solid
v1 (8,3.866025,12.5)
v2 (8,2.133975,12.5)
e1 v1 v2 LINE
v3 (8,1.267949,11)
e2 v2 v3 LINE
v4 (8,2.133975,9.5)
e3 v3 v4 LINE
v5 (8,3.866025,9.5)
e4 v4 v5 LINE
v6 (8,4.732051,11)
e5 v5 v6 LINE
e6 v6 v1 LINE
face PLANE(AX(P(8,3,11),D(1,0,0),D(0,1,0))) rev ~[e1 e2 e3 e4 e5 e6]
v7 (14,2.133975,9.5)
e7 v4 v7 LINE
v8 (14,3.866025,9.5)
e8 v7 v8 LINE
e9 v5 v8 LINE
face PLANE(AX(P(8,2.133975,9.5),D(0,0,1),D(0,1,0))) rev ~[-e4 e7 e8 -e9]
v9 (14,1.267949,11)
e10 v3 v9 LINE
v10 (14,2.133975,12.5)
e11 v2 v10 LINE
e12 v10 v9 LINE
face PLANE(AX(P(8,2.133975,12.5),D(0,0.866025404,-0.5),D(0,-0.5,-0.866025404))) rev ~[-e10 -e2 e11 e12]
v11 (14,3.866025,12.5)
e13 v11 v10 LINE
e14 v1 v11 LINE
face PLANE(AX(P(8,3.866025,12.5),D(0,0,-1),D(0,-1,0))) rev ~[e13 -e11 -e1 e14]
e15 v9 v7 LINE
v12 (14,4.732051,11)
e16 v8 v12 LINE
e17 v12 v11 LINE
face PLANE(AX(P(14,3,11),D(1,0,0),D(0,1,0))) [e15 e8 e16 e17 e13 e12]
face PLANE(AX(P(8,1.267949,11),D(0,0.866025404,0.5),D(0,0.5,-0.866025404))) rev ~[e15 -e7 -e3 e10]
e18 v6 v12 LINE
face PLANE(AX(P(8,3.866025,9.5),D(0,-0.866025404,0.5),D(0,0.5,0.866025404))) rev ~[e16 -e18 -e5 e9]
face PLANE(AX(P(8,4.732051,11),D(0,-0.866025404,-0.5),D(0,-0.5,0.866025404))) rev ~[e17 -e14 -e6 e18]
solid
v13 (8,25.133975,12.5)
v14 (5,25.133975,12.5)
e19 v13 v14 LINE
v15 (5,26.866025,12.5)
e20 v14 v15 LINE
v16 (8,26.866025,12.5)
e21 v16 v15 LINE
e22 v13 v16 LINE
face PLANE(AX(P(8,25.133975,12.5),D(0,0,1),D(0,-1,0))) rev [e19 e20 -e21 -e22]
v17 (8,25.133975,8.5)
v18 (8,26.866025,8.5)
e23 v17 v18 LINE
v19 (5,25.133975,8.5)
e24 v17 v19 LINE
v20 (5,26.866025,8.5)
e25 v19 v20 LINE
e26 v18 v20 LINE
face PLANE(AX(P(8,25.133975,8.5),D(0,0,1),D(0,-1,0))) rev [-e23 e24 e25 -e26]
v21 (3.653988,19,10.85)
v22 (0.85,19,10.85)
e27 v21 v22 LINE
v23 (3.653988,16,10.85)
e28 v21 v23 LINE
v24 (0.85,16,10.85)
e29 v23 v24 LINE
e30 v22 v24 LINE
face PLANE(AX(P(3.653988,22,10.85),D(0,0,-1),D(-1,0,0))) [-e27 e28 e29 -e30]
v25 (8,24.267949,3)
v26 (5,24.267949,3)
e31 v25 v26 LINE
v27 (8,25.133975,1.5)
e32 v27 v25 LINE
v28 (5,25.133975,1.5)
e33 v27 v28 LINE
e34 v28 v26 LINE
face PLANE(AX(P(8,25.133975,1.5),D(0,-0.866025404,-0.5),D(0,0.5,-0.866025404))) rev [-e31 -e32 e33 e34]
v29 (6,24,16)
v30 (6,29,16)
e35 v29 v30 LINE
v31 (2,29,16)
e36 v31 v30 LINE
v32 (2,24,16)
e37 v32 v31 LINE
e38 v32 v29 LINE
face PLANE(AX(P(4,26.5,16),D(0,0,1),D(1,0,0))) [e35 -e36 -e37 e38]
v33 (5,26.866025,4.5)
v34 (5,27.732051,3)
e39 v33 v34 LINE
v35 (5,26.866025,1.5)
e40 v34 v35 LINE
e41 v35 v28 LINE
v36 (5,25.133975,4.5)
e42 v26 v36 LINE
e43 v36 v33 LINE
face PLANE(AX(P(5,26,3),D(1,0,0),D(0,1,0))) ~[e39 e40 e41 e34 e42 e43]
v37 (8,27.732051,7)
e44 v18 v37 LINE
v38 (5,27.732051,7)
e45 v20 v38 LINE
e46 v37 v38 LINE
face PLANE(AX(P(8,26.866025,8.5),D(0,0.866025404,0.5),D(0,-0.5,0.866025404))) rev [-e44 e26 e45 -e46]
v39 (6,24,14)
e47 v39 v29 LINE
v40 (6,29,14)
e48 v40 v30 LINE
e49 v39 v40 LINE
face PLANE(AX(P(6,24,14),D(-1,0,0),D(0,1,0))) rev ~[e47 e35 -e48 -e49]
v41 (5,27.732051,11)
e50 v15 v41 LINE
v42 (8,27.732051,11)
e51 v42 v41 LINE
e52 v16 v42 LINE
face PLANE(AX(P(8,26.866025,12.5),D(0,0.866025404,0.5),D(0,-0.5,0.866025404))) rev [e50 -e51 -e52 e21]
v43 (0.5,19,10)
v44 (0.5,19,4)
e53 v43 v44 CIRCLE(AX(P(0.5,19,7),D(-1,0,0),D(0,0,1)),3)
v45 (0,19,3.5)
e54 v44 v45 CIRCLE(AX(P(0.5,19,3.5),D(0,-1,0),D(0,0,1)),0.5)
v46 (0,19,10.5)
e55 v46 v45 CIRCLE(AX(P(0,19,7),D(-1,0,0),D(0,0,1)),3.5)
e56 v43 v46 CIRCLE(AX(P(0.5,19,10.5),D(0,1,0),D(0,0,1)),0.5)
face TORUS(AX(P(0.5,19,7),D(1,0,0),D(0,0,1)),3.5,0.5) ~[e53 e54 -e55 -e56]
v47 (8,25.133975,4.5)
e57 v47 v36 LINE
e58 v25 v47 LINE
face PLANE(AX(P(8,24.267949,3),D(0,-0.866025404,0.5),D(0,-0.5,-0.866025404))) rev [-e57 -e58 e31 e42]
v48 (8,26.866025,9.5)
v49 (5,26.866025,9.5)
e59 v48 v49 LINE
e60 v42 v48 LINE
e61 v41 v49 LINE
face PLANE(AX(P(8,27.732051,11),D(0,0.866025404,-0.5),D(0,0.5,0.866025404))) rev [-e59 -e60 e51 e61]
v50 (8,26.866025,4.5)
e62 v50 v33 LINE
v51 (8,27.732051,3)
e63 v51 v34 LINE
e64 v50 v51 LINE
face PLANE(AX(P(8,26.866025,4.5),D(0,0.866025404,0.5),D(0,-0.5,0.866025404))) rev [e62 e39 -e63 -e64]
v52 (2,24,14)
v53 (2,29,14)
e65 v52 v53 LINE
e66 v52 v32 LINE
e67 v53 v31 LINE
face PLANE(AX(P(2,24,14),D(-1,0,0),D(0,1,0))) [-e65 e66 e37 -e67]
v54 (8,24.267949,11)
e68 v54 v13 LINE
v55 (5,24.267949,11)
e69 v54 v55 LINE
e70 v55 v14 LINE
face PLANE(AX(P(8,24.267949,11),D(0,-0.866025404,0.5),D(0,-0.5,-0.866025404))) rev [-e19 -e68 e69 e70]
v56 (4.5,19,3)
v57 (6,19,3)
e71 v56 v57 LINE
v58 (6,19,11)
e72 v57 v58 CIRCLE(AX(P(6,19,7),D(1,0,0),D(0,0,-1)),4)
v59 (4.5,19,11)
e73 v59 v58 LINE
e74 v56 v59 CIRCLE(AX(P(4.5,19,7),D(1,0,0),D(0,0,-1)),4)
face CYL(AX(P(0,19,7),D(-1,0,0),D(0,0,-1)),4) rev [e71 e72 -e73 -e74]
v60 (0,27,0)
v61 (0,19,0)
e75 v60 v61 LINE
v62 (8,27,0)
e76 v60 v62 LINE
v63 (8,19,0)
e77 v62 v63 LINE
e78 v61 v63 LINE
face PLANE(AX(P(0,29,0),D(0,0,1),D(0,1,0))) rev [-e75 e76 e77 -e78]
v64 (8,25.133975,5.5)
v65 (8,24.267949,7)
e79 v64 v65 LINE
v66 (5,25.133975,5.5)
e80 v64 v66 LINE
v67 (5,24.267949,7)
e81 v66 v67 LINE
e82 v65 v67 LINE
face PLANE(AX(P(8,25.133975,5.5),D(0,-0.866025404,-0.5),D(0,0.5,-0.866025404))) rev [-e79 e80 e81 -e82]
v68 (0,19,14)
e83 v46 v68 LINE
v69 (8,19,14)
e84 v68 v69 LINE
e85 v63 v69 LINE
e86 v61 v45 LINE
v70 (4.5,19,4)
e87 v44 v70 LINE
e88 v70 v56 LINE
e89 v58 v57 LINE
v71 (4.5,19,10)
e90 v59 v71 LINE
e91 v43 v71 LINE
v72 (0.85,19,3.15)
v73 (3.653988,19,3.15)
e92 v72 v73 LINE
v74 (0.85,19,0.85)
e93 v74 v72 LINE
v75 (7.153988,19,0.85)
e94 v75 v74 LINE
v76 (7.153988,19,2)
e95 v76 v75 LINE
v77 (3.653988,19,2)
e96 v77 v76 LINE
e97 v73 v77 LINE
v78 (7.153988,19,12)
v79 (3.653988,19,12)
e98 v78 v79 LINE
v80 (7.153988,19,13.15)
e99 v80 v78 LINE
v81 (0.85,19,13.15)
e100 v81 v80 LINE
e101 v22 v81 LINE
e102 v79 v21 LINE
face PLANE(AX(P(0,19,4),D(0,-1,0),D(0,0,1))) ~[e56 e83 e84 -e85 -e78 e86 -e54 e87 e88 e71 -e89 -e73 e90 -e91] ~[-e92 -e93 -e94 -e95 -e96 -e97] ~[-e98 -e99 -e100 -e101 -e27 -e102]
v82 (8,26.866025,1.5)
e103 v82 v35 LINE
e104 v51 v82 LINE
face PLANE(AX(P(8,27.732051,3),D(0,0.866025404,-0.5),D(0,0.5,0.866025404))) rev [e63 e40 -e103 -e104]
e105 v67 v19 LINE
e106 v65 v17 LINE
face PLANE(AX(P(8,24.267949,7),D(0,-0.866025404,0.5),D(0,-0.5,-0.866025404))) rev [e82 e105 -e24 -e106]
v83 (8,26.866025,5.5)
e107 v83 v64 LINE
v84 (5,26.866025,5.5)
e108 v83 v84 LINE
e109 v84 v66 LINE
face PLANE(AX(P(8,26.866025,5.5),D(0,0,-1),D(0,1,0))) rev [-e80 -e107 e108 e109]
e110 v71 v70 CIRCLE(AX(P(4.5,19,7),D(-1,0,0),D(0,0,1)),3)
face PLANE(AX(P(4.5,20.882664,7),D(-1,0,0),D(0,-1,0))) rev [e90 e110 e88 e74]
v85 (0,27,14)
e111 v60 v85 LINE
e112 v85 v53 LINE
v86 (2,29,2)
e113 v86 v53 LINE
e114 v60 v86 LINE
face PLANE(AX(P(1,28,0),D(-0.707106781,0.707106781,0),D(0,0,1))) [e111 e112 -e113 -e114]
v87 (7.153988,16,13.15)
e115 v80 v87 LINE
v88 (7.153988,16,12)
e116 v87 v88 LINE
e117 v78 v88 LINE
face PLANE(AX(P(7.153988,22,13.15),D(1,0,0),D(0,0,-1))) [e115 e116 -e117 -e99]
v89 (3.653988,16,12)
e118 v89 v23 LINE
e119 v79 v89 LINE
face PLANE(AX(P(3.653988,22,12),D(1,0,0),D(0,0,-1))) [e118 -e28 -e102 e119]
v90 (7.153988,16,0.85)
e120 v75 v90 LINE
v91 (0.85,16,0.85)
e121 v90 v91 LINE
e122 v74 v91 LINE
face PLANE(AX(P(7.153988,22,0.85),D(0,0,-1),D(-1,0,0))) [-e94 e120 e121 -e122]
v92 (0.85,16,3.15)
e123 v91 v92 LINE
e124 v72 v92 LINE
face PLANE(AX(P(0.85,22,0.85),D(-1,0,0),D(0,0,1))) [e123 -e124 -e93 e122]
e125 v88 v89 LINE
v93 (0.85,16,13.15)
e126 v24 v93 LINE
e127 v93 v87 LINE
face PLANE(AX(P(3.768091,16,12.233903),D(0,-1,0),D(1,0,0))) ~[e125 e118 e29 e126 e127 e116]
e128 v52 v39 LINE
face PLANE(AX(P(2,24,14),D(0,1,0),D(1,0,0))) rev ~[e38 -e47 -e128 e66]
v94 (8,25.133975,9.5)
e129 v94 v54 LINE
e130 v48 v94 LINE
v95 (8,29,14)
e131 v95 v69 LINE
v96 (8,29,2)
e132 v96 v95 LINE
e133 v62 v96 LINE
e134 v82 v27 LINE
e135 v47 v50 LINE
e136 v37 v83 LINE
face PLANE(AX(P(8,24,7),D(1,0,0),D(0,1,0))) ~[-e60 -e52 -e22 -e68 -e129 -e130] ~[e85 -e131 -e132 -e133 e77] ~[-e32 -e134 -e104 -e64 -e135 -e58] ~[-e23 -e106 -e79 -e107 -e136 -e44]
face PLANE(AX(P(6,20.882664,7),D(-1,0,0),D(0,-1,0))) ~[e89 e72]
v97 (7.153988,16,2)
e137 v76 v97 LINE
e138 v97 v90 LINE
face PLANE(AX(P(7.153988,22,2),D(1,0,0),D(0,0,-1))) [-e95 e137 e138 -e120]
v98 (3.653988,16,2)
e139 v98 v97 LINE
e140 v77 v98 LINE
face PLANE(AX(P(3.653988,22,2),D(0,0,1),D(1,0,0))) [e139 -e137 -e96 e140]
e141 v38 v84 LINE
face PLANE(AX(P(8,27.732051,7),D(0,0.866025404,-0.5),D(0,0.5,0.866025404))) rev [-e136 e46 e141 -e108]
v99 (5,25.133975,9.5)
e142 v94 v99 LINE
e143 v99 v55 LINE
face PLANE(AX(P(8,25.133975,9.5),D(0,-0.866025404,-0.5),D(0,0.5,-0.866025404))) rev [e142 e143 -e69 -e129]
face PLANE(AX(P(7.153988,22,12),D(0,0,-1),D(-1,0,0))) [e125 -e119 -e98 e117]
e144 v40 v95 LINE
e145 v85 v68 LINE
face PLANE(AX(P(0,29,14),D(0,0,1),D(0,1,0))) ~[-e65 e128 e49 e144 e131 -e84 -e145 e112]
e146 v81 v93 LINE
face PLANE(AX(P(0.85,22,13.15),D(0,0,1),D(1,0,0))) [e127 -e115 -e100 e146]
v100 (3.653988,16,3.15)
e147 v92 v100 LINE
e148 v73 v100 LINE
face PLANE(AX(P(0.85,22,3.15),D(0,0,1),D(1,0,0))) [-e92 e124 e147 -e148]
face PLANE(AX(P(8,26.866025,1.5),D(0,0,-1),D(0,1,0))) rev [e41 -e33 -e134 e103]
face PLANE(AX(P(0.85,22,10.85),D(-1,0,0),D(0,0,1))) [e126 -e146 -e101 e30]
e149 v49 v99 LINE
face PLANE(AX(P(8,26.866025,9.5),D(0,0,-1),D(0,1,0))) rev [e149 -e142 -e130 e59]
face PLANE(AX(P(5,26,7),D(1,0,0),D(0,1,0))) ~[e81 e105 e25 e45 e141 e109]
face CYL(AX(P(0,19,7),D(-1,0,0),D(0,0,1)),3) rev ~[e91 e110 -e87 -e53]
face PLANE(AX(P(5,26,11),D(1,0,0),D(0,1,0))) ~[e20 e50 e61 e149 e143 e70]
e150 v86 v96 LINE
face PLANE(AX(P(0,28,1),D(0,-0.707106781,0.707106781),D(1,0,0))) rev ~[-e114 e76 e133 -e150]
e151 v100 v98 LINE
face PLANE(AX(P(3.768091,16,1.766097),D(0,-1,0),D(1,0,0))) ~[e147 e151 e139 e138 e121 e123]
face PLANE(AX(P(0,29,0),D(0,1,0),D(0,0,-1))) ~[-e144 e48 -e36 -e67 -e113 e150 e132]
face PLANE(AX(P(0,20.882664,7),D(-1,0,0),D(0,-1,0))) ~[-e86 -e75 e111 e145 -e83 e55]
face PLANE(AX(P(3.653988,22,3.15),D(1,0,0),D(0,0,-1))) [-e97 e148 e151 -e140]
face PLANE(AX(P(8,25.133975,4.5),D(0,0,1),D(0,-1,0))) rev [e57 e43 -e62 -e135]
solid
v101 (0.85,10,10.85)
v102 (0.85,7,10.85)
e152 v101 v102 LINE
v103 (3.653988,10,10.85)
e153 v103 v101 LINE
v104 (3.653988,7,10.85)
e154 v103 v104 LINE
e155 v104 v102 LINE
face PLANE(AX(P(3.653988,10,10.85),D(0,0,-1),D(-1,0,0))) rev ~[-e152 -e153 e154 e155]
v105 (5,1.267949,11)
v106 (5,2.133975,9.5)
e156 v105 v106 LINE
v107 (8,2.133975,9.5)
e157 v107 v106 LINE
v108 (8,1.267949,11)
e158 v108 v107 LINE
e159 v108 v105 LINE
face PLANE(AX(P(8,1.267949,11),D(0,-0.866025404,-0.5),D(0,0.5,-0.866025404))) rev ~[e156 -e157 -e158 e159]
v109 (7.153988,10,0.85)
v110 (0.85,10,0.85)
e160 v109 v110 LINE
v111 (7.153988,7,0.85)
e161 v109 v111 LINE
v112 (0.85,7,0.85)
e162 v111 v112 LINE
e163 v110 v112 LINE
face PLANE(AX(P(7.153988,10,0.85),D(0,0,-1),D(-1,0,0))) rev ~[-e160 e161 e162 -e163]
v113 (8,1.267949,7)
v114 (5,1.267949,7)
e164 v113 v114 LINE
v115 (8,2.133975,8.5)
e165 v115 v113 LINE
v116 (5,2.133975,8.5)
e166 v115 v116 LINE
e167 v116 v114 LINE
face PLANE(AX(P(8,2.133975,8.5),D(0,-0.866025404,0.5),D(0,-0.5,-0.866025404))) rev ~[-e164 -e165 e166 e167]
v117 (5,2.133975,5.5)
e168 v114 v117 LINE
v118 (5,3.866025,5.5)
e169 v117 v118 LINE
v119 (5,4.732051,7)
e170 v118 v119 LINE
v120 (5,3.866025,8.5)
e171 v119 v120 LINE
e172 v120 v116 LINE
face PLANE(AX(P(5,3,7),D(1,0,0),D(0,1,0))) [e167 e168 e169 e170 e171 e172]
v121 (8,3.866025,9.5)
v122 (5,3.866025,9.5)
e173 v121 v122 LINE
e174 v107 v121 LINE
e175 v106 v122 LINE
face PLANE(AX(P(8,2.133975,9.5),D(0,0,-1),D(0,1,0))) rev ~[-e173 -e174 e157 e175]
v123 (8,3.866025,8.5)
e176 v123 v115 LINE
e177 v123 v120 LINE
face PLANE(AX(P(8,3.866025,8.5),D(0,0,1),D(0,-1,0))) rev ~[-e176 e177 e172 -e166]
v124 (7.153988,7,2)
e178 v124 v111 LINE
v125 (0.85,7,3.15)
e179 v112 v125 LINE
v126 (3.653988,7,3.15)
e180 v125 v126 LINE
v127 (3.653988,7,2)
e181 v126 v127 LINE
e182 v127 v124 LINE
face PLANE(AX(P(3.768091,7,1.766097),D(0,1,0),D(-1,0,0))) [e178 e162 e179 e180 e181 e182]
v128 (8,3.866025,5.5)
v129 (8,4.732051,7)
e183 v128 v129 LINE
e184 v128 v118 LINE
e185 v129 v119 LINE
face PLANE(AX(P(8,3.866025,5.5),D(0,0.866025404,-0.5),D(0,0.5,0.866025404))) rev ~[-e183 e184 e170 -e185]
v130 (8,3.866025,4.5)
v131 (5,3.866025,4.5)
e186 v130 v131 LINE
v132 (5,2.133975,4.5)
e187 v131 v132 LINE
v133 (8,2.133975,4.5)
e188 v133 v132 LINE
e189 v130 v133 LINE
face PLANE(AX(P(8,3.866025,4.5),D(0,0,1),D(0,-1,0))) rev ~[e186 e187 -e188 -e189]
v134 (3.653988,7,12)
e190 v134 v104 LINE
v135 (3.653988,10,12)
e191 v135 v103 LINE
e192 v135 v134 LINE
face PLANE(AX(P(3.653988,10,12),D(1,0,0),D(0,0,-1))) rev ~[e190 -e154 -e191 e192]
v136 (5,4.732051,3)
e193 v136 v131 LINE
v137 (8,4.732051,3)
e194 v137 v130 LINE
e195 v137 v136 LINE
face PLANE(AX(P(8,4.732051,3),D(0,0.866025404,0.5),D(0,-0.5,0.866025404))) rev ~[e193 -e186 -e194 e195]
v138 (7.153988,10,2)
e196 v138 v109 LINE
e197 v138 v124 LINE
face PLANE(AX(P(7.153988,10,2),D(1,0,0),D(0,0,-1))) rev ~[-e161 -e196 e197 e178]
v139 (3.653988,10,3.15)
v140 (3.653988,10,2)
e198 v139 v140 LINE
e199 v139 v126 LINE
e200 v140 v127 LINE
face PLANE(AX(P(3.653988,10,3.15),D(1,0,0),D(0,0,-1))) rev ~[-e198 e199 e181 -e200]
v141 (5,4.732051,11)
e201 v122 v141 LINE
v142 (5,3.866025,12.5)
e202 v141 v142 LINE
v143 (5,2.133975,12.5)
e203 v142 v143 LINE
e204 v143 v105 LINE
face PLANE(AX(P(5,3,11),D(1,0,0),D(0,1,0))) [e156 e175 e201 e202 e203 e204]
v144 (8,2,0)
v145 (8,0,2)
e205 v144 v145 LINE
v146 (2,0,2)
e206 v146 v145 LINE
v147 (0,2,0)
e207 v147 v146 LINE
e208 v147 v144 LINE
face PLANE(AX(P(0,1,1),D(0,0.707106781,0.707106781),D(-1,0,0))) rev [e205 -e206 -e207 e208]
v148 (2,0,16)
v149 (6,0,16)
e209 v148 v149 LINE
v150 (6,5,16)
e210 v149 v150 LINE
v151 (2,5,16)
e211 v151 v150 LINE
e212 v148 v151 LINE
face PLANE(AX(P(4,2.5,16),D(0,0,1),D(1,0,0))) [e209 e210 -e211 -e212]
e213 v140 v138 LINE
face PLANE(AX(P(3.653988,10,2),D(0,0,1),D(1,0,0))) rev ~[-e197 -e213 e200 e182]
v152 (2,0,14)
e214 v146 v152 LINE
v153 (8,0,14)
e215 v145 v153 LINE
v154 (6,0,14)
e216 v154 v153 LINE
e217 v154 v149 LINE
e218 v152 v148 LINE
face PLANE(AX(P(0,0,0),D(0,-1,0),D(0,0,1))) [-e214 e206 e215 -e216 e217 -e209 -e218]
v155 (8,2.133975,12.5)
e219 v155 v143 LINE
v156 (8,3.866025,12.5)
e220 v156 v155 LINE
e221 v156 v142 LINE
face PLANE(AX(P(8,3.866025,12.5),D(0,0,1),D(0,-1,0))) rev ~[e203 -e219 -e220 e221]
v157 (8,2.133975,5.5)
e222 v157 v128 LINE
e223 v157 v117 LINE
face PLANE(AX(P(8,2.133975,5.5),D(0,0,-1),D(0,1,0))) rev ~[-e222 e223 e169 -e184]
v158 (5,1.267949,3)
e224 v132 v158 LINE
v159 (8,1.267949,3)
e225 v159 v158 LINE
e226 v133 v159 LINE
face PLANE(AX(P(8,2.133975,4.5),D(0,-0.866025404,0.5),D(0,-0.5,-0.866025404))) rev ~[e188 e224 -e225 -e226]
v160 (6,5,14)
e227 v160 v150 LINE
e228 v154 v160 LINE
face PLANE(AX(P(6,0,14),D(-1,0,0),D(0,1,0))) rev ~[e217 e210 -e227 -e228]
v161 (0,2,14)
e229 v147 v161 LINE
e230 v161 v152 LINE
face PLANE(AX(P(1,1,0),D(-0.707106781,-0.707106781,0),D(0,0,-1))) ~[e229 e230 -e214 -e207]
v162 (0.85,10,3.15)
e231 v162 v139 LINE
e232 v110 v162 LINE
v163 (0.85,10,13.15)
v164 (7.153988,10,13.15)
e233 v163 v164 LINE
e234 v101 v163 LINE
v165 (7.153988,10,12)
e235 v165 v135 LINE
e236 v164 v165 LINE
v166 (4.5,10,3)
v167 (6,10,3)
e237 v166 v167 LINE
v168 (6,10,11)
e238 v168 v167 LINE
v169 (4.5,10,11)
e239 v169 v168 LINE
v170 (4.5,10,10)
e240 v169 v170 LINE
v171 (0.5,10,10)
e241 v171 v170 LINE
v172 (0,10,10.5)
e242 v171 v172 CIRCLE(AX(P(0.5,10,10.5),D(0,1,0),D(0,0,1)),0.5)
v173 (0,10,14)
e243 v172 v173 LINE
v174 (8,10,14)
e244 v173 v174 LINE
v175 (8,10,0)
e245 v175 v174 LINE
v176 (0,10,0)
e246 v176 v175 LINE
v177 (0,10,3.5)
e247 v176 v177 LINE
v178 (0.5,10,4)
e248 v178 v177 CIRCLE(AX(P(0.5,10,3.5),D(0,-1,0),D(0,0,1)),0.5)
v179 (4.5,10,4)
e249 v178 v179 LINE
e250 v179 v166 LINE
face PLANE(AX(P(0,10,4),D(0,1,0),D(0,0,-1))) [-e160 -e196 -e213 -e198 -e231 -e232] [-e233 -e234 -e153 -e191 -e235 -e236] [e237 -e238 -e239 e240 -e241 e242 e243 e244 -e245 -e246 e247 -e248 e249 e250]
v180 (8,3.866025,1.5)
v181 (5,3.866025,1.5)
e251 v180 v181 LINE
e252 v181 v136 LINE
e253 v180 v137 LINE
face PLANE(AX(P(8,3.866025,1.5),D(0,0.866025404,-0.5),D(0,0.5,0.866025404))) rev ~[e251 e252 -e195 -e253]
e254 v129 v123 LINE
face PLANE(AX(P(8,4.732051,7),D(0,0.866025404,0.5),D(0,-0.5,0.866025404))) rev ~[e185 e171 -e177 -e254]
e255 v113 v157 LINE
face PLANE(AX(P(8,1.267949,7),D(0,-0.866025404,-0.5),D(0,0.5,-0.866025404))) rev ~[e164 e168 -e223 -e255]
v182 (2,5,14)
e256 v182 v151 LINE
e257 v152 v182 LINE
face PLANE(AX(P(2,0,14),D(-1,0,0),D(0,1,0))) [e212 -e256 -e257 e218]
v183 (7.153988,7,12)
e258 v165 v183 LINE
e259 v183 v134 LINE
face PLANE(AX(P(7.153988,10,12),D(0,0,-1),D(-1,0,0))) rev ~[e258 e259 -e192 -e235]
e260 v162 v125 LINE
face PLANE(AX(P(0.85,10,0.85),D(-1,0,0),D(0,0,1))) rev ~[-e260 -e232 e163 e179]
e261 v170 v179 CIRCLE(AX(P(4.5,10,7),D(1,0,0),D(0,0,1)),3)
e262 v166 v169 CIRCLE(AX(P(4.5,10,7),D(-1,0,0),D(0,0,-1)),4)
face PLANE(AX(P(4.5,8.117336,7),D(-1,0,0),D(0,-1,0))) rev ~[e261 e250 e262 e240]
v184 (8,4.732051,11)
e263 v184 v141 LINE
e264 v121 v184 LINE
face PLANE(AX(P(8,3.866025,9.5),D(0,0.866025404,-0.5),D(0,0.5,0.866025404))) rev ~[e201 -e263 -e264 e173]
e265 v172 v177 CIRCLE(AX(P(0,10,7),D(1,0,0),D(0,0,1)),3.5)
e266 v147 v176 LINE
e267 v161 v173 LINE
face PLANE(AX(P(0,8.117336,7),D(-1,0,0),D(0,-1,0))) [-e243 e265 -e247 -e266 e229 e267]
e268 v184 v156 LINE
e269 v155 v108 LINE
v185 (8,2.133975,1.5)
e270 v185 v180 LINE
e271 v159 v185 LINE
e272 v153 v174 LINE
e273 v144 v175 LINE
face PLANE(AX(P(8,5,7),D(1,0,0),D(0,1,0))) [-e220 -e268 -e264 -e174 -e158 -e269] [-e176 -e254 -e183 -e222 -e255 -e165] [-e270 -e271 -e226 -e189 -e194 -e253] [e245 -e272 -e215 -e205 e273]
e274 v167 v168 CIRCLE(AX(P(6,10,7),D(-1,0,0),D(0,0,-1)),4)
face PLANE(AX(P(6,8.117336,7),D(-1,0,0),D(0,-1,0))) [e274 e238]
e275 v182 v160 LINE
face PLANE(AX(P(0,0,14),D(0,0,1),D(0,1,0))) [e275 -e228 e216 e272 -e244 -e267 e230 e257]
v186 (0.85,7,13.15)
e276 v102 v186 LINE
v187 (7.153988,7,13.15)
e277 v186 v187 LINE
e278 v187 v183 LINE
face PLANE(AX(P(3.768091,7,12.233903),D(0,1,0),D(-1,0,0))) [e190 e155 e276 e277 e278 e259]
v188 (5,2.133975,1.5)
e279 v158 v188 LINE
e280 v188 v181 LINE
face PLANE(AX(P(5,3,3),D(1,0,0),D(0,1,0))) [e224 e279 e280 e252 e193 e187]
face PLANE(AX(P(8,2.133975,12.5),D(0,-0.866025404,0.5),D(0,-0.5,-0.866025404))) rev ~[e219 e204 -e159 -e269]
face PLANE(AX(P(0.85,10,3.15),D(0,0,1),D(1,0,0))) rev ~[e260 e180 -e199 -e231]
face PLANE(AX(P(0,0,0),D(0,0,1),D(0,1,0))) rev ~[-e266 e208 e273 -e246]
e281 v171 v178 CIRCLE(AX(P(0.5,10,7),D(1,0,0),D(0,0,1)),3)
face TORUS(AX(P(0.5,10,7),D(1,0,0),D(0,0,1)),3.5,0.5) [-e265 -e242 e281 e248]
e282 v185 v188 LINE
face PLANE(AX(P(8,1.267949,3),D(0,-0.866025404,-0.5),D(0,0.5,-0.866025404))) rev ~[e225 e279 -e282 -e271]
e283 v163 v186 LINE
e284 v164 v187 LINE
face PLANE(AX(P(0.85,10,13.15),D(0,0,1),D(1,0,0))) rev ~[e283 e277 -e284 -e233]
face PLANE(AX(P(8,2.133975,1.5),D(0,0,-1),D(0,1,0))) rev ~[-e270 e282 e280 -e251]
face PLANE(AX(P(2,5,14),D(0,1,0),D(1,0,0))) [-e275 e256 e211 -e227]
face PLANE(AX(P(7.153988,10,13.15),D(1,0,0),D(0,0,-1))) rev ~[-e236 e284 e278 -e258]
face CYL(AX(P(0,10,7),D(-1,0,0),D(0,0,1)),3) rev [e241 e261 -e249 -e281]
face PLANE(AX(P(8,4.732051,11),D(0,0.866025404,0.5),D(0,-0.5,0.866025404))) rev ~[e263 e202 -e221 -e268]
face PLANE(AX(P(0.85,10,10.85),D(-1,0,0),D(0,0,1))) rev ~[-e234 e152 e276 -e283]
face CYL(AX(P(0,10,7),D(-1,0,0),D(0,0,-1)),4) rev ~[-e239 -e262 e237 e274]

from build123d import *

# Parameters (mm, degrees)
F0_W       = 10
F0_H       = 14
F1_DEPTH   = 8
F3_DEPTH   = 6
F4_DEPTH   = 4.5
F6_DEPTH   = 3
F7_R       = 0.5
F9_DEPTH   = 3
F10_DEPTH  = 6
F13_DEPTH  = 6
F14_W      = 4
F14_H      = 5
F15_DEPTH  = 2
F16_W      = 4
F16_H      = 5
F17_DEPTH  = 2
F18_SIZE   = 2
F18_2_SIZE = 2


with BuildPart() as f1:
    # F0 (on Right) → F1 (new body)
    with BuildSketch(Plane.YZ):
        with Locations((5, 7)):
            Rectangle(F0_W, F0_H)
    extrude(amount=F1_DEPTH)

    # F2 (on face) → F3 (cut)
    with BuildSketch(Plane(origin=(0, 0, 0), x_dir=(0, -1, 0), z_dir=(-1, 0, 0))):
        with BuildLine():
            Line((-10, 4), (-10, 3))
            ThreePointArc((-10, 3), (-6, 7), (-10, 11))
            Line((-10, 11), (-10, 10))
            ThreePointArc((-10, 10), (-7, 7), (-10, 4))
        make_face()
        with BuildLine():
            Line((-10, 10), (-10, 4))
            ThreePointArc((-10, 4), (-7, 7), (-10, 10))
        make_face()
    extrude(amount=-F3_DEPTH, mode=Mode.SUBTRACT)

    # F2 (on face) → F4 (join)
    with BuildSketch(Plane(origin=(0, 0, 0), x_dir=(0, -1, 0), z_dir=(-1, 0, 0))):
        with BuildLine():
            Line((-10, 4), (-10, 3))
            ThreePointArc((-10, 3), (-6, 7), (-10, 11))
            Line((-10, 11), (-10, 10))
            ThreePointArc((-10, 10), (-7, 7), (-10, 4))
        make_face()
    extrude(amount=-F4_DEPTH)

    # F5 (on face) → F6 (cut)
    with BuildSketch(Plane(origin=(0, 10, 0), x_dir=(-1, 0, 0), z_dir=(0, 1, 0))):
        Polygon((-0.8500000113, 10.8500000113), (-0.8500000113, 13.1499999887), (-3.6539883502, 13.1499999887), (-7.1539883502, 13.1499999887), (-7.1539883502, 12), (-3.6539883502, 12), (-3.6539883502, 10.8500000113), align=None)
        Polygon((-3.6539883502, 0.8500000113), (-0.8500000113, 0.8500000113), (-0.8500000113, 3.1499999887), (-3.6539883502, 3.1499999887), (-3.6539883502, 2), (-7.1539883502, 2), (-7.1539883502, 0.8500000113), align=None)
    extrude(amount=-F6_DEPTH, mode=Mode.SUBTRACT)

    # F7
    f7_edges = [f1.edges().sort_by_distance(p)[0] for p in [
        (0, 7, 7),
    ]]
    fillet(f7_edges, radius=F7_R)

    # F8 (on face) → F9 (cut)
    with BuildSketch(Plane.YZ.offset(8)):
        Polygon((2.1339745962, 9.5), (3.8660254038, 9.5), (4.7320508076, 11), (3.8660254038, 12.5), (2.1339745962, 12.5), (1.2679491924, 11), align=None)
        Polygon((4.7320508076, 3), (3.8660254038, 4.5), (2.1339745962, 4.5), (1.2679491924, 3), (2.1339745962, 1.5), (3.8660254038, 1.5), align=None)
        Polygon((2.1339745962, 5.5), (3.8660254038, 5.5), (4.7320508076, 7), (3.8660254038, 8.5), (2.1339745962, 8.5), (1.2679491924, 7), align=None)
    extrude(amount=-F9_DEPTH, mode=Mode.SUBTRACT)


with BuildPart() as f10:
    # F8 (on face) → F10 (new body)
    with BuildSketch(Plane.YZ.offset(8)):
        Polygon((2.1339745962, 9.5), (3.8660254038, 9.5), (4.7320508076, 11), (3.8660254038, 12.5), (2.1339745962, 12.5), (1.2679491924, 11), align=None)
    extrude(amount=F10_DEPTH)


with BuildPart() as f12_1:
    # F12: instance of F1
    add(f1.part.mirror(Plane.XZ.offset(-14.5)))

    # F13 (add): faces of the model
    f13_faces = [f12_1.faces().sort_by_distance(p)[0] for p in [
        (3.4632379051, 22, 12.2209601596),
        (3.4632379051, 22, 1.7790398404),
    ]]
    extrude(f13_faces, amount=F13_DEPTH)

    # F16 (on face) → F17 (join)
    with BuildSketch(Plane.XY.offset(14)):
        with Locations((4, 26.5)):
            Rectangle(F16_W, F16_H)
    extrude(amount=F17_DEPTH)

    # F18#2
    f18_2_edges = [f12_1.edges().sort_by_distance(p)[0] for p in [
        (4, 29, 0),
        (0, 29, 7),
    ]]
    chamfer(f18_2_edges, length=F18_2_SIZE)


with BuildPart() as f1_1:
    add(f1.part)

    # F14 (on face) → F15 (join)
    with BuildSketch(Plane.XY.offset(14)):
        with Locations((4, 2.5)):
            Rectangle(F14_W, F14_H)
    extrude(amount=F15_DEPTH)

    # F18
    f18_edges = [f1_1.edges().sort_by_distance(p)[0] for p in [
        (4, 0, 0),
        (0, 0, 7),
    ]]
    chamfer(f18_edges, length=F18_SIZE)


solid = Compound([f10.part, f12_1.part, f1_1.part])
